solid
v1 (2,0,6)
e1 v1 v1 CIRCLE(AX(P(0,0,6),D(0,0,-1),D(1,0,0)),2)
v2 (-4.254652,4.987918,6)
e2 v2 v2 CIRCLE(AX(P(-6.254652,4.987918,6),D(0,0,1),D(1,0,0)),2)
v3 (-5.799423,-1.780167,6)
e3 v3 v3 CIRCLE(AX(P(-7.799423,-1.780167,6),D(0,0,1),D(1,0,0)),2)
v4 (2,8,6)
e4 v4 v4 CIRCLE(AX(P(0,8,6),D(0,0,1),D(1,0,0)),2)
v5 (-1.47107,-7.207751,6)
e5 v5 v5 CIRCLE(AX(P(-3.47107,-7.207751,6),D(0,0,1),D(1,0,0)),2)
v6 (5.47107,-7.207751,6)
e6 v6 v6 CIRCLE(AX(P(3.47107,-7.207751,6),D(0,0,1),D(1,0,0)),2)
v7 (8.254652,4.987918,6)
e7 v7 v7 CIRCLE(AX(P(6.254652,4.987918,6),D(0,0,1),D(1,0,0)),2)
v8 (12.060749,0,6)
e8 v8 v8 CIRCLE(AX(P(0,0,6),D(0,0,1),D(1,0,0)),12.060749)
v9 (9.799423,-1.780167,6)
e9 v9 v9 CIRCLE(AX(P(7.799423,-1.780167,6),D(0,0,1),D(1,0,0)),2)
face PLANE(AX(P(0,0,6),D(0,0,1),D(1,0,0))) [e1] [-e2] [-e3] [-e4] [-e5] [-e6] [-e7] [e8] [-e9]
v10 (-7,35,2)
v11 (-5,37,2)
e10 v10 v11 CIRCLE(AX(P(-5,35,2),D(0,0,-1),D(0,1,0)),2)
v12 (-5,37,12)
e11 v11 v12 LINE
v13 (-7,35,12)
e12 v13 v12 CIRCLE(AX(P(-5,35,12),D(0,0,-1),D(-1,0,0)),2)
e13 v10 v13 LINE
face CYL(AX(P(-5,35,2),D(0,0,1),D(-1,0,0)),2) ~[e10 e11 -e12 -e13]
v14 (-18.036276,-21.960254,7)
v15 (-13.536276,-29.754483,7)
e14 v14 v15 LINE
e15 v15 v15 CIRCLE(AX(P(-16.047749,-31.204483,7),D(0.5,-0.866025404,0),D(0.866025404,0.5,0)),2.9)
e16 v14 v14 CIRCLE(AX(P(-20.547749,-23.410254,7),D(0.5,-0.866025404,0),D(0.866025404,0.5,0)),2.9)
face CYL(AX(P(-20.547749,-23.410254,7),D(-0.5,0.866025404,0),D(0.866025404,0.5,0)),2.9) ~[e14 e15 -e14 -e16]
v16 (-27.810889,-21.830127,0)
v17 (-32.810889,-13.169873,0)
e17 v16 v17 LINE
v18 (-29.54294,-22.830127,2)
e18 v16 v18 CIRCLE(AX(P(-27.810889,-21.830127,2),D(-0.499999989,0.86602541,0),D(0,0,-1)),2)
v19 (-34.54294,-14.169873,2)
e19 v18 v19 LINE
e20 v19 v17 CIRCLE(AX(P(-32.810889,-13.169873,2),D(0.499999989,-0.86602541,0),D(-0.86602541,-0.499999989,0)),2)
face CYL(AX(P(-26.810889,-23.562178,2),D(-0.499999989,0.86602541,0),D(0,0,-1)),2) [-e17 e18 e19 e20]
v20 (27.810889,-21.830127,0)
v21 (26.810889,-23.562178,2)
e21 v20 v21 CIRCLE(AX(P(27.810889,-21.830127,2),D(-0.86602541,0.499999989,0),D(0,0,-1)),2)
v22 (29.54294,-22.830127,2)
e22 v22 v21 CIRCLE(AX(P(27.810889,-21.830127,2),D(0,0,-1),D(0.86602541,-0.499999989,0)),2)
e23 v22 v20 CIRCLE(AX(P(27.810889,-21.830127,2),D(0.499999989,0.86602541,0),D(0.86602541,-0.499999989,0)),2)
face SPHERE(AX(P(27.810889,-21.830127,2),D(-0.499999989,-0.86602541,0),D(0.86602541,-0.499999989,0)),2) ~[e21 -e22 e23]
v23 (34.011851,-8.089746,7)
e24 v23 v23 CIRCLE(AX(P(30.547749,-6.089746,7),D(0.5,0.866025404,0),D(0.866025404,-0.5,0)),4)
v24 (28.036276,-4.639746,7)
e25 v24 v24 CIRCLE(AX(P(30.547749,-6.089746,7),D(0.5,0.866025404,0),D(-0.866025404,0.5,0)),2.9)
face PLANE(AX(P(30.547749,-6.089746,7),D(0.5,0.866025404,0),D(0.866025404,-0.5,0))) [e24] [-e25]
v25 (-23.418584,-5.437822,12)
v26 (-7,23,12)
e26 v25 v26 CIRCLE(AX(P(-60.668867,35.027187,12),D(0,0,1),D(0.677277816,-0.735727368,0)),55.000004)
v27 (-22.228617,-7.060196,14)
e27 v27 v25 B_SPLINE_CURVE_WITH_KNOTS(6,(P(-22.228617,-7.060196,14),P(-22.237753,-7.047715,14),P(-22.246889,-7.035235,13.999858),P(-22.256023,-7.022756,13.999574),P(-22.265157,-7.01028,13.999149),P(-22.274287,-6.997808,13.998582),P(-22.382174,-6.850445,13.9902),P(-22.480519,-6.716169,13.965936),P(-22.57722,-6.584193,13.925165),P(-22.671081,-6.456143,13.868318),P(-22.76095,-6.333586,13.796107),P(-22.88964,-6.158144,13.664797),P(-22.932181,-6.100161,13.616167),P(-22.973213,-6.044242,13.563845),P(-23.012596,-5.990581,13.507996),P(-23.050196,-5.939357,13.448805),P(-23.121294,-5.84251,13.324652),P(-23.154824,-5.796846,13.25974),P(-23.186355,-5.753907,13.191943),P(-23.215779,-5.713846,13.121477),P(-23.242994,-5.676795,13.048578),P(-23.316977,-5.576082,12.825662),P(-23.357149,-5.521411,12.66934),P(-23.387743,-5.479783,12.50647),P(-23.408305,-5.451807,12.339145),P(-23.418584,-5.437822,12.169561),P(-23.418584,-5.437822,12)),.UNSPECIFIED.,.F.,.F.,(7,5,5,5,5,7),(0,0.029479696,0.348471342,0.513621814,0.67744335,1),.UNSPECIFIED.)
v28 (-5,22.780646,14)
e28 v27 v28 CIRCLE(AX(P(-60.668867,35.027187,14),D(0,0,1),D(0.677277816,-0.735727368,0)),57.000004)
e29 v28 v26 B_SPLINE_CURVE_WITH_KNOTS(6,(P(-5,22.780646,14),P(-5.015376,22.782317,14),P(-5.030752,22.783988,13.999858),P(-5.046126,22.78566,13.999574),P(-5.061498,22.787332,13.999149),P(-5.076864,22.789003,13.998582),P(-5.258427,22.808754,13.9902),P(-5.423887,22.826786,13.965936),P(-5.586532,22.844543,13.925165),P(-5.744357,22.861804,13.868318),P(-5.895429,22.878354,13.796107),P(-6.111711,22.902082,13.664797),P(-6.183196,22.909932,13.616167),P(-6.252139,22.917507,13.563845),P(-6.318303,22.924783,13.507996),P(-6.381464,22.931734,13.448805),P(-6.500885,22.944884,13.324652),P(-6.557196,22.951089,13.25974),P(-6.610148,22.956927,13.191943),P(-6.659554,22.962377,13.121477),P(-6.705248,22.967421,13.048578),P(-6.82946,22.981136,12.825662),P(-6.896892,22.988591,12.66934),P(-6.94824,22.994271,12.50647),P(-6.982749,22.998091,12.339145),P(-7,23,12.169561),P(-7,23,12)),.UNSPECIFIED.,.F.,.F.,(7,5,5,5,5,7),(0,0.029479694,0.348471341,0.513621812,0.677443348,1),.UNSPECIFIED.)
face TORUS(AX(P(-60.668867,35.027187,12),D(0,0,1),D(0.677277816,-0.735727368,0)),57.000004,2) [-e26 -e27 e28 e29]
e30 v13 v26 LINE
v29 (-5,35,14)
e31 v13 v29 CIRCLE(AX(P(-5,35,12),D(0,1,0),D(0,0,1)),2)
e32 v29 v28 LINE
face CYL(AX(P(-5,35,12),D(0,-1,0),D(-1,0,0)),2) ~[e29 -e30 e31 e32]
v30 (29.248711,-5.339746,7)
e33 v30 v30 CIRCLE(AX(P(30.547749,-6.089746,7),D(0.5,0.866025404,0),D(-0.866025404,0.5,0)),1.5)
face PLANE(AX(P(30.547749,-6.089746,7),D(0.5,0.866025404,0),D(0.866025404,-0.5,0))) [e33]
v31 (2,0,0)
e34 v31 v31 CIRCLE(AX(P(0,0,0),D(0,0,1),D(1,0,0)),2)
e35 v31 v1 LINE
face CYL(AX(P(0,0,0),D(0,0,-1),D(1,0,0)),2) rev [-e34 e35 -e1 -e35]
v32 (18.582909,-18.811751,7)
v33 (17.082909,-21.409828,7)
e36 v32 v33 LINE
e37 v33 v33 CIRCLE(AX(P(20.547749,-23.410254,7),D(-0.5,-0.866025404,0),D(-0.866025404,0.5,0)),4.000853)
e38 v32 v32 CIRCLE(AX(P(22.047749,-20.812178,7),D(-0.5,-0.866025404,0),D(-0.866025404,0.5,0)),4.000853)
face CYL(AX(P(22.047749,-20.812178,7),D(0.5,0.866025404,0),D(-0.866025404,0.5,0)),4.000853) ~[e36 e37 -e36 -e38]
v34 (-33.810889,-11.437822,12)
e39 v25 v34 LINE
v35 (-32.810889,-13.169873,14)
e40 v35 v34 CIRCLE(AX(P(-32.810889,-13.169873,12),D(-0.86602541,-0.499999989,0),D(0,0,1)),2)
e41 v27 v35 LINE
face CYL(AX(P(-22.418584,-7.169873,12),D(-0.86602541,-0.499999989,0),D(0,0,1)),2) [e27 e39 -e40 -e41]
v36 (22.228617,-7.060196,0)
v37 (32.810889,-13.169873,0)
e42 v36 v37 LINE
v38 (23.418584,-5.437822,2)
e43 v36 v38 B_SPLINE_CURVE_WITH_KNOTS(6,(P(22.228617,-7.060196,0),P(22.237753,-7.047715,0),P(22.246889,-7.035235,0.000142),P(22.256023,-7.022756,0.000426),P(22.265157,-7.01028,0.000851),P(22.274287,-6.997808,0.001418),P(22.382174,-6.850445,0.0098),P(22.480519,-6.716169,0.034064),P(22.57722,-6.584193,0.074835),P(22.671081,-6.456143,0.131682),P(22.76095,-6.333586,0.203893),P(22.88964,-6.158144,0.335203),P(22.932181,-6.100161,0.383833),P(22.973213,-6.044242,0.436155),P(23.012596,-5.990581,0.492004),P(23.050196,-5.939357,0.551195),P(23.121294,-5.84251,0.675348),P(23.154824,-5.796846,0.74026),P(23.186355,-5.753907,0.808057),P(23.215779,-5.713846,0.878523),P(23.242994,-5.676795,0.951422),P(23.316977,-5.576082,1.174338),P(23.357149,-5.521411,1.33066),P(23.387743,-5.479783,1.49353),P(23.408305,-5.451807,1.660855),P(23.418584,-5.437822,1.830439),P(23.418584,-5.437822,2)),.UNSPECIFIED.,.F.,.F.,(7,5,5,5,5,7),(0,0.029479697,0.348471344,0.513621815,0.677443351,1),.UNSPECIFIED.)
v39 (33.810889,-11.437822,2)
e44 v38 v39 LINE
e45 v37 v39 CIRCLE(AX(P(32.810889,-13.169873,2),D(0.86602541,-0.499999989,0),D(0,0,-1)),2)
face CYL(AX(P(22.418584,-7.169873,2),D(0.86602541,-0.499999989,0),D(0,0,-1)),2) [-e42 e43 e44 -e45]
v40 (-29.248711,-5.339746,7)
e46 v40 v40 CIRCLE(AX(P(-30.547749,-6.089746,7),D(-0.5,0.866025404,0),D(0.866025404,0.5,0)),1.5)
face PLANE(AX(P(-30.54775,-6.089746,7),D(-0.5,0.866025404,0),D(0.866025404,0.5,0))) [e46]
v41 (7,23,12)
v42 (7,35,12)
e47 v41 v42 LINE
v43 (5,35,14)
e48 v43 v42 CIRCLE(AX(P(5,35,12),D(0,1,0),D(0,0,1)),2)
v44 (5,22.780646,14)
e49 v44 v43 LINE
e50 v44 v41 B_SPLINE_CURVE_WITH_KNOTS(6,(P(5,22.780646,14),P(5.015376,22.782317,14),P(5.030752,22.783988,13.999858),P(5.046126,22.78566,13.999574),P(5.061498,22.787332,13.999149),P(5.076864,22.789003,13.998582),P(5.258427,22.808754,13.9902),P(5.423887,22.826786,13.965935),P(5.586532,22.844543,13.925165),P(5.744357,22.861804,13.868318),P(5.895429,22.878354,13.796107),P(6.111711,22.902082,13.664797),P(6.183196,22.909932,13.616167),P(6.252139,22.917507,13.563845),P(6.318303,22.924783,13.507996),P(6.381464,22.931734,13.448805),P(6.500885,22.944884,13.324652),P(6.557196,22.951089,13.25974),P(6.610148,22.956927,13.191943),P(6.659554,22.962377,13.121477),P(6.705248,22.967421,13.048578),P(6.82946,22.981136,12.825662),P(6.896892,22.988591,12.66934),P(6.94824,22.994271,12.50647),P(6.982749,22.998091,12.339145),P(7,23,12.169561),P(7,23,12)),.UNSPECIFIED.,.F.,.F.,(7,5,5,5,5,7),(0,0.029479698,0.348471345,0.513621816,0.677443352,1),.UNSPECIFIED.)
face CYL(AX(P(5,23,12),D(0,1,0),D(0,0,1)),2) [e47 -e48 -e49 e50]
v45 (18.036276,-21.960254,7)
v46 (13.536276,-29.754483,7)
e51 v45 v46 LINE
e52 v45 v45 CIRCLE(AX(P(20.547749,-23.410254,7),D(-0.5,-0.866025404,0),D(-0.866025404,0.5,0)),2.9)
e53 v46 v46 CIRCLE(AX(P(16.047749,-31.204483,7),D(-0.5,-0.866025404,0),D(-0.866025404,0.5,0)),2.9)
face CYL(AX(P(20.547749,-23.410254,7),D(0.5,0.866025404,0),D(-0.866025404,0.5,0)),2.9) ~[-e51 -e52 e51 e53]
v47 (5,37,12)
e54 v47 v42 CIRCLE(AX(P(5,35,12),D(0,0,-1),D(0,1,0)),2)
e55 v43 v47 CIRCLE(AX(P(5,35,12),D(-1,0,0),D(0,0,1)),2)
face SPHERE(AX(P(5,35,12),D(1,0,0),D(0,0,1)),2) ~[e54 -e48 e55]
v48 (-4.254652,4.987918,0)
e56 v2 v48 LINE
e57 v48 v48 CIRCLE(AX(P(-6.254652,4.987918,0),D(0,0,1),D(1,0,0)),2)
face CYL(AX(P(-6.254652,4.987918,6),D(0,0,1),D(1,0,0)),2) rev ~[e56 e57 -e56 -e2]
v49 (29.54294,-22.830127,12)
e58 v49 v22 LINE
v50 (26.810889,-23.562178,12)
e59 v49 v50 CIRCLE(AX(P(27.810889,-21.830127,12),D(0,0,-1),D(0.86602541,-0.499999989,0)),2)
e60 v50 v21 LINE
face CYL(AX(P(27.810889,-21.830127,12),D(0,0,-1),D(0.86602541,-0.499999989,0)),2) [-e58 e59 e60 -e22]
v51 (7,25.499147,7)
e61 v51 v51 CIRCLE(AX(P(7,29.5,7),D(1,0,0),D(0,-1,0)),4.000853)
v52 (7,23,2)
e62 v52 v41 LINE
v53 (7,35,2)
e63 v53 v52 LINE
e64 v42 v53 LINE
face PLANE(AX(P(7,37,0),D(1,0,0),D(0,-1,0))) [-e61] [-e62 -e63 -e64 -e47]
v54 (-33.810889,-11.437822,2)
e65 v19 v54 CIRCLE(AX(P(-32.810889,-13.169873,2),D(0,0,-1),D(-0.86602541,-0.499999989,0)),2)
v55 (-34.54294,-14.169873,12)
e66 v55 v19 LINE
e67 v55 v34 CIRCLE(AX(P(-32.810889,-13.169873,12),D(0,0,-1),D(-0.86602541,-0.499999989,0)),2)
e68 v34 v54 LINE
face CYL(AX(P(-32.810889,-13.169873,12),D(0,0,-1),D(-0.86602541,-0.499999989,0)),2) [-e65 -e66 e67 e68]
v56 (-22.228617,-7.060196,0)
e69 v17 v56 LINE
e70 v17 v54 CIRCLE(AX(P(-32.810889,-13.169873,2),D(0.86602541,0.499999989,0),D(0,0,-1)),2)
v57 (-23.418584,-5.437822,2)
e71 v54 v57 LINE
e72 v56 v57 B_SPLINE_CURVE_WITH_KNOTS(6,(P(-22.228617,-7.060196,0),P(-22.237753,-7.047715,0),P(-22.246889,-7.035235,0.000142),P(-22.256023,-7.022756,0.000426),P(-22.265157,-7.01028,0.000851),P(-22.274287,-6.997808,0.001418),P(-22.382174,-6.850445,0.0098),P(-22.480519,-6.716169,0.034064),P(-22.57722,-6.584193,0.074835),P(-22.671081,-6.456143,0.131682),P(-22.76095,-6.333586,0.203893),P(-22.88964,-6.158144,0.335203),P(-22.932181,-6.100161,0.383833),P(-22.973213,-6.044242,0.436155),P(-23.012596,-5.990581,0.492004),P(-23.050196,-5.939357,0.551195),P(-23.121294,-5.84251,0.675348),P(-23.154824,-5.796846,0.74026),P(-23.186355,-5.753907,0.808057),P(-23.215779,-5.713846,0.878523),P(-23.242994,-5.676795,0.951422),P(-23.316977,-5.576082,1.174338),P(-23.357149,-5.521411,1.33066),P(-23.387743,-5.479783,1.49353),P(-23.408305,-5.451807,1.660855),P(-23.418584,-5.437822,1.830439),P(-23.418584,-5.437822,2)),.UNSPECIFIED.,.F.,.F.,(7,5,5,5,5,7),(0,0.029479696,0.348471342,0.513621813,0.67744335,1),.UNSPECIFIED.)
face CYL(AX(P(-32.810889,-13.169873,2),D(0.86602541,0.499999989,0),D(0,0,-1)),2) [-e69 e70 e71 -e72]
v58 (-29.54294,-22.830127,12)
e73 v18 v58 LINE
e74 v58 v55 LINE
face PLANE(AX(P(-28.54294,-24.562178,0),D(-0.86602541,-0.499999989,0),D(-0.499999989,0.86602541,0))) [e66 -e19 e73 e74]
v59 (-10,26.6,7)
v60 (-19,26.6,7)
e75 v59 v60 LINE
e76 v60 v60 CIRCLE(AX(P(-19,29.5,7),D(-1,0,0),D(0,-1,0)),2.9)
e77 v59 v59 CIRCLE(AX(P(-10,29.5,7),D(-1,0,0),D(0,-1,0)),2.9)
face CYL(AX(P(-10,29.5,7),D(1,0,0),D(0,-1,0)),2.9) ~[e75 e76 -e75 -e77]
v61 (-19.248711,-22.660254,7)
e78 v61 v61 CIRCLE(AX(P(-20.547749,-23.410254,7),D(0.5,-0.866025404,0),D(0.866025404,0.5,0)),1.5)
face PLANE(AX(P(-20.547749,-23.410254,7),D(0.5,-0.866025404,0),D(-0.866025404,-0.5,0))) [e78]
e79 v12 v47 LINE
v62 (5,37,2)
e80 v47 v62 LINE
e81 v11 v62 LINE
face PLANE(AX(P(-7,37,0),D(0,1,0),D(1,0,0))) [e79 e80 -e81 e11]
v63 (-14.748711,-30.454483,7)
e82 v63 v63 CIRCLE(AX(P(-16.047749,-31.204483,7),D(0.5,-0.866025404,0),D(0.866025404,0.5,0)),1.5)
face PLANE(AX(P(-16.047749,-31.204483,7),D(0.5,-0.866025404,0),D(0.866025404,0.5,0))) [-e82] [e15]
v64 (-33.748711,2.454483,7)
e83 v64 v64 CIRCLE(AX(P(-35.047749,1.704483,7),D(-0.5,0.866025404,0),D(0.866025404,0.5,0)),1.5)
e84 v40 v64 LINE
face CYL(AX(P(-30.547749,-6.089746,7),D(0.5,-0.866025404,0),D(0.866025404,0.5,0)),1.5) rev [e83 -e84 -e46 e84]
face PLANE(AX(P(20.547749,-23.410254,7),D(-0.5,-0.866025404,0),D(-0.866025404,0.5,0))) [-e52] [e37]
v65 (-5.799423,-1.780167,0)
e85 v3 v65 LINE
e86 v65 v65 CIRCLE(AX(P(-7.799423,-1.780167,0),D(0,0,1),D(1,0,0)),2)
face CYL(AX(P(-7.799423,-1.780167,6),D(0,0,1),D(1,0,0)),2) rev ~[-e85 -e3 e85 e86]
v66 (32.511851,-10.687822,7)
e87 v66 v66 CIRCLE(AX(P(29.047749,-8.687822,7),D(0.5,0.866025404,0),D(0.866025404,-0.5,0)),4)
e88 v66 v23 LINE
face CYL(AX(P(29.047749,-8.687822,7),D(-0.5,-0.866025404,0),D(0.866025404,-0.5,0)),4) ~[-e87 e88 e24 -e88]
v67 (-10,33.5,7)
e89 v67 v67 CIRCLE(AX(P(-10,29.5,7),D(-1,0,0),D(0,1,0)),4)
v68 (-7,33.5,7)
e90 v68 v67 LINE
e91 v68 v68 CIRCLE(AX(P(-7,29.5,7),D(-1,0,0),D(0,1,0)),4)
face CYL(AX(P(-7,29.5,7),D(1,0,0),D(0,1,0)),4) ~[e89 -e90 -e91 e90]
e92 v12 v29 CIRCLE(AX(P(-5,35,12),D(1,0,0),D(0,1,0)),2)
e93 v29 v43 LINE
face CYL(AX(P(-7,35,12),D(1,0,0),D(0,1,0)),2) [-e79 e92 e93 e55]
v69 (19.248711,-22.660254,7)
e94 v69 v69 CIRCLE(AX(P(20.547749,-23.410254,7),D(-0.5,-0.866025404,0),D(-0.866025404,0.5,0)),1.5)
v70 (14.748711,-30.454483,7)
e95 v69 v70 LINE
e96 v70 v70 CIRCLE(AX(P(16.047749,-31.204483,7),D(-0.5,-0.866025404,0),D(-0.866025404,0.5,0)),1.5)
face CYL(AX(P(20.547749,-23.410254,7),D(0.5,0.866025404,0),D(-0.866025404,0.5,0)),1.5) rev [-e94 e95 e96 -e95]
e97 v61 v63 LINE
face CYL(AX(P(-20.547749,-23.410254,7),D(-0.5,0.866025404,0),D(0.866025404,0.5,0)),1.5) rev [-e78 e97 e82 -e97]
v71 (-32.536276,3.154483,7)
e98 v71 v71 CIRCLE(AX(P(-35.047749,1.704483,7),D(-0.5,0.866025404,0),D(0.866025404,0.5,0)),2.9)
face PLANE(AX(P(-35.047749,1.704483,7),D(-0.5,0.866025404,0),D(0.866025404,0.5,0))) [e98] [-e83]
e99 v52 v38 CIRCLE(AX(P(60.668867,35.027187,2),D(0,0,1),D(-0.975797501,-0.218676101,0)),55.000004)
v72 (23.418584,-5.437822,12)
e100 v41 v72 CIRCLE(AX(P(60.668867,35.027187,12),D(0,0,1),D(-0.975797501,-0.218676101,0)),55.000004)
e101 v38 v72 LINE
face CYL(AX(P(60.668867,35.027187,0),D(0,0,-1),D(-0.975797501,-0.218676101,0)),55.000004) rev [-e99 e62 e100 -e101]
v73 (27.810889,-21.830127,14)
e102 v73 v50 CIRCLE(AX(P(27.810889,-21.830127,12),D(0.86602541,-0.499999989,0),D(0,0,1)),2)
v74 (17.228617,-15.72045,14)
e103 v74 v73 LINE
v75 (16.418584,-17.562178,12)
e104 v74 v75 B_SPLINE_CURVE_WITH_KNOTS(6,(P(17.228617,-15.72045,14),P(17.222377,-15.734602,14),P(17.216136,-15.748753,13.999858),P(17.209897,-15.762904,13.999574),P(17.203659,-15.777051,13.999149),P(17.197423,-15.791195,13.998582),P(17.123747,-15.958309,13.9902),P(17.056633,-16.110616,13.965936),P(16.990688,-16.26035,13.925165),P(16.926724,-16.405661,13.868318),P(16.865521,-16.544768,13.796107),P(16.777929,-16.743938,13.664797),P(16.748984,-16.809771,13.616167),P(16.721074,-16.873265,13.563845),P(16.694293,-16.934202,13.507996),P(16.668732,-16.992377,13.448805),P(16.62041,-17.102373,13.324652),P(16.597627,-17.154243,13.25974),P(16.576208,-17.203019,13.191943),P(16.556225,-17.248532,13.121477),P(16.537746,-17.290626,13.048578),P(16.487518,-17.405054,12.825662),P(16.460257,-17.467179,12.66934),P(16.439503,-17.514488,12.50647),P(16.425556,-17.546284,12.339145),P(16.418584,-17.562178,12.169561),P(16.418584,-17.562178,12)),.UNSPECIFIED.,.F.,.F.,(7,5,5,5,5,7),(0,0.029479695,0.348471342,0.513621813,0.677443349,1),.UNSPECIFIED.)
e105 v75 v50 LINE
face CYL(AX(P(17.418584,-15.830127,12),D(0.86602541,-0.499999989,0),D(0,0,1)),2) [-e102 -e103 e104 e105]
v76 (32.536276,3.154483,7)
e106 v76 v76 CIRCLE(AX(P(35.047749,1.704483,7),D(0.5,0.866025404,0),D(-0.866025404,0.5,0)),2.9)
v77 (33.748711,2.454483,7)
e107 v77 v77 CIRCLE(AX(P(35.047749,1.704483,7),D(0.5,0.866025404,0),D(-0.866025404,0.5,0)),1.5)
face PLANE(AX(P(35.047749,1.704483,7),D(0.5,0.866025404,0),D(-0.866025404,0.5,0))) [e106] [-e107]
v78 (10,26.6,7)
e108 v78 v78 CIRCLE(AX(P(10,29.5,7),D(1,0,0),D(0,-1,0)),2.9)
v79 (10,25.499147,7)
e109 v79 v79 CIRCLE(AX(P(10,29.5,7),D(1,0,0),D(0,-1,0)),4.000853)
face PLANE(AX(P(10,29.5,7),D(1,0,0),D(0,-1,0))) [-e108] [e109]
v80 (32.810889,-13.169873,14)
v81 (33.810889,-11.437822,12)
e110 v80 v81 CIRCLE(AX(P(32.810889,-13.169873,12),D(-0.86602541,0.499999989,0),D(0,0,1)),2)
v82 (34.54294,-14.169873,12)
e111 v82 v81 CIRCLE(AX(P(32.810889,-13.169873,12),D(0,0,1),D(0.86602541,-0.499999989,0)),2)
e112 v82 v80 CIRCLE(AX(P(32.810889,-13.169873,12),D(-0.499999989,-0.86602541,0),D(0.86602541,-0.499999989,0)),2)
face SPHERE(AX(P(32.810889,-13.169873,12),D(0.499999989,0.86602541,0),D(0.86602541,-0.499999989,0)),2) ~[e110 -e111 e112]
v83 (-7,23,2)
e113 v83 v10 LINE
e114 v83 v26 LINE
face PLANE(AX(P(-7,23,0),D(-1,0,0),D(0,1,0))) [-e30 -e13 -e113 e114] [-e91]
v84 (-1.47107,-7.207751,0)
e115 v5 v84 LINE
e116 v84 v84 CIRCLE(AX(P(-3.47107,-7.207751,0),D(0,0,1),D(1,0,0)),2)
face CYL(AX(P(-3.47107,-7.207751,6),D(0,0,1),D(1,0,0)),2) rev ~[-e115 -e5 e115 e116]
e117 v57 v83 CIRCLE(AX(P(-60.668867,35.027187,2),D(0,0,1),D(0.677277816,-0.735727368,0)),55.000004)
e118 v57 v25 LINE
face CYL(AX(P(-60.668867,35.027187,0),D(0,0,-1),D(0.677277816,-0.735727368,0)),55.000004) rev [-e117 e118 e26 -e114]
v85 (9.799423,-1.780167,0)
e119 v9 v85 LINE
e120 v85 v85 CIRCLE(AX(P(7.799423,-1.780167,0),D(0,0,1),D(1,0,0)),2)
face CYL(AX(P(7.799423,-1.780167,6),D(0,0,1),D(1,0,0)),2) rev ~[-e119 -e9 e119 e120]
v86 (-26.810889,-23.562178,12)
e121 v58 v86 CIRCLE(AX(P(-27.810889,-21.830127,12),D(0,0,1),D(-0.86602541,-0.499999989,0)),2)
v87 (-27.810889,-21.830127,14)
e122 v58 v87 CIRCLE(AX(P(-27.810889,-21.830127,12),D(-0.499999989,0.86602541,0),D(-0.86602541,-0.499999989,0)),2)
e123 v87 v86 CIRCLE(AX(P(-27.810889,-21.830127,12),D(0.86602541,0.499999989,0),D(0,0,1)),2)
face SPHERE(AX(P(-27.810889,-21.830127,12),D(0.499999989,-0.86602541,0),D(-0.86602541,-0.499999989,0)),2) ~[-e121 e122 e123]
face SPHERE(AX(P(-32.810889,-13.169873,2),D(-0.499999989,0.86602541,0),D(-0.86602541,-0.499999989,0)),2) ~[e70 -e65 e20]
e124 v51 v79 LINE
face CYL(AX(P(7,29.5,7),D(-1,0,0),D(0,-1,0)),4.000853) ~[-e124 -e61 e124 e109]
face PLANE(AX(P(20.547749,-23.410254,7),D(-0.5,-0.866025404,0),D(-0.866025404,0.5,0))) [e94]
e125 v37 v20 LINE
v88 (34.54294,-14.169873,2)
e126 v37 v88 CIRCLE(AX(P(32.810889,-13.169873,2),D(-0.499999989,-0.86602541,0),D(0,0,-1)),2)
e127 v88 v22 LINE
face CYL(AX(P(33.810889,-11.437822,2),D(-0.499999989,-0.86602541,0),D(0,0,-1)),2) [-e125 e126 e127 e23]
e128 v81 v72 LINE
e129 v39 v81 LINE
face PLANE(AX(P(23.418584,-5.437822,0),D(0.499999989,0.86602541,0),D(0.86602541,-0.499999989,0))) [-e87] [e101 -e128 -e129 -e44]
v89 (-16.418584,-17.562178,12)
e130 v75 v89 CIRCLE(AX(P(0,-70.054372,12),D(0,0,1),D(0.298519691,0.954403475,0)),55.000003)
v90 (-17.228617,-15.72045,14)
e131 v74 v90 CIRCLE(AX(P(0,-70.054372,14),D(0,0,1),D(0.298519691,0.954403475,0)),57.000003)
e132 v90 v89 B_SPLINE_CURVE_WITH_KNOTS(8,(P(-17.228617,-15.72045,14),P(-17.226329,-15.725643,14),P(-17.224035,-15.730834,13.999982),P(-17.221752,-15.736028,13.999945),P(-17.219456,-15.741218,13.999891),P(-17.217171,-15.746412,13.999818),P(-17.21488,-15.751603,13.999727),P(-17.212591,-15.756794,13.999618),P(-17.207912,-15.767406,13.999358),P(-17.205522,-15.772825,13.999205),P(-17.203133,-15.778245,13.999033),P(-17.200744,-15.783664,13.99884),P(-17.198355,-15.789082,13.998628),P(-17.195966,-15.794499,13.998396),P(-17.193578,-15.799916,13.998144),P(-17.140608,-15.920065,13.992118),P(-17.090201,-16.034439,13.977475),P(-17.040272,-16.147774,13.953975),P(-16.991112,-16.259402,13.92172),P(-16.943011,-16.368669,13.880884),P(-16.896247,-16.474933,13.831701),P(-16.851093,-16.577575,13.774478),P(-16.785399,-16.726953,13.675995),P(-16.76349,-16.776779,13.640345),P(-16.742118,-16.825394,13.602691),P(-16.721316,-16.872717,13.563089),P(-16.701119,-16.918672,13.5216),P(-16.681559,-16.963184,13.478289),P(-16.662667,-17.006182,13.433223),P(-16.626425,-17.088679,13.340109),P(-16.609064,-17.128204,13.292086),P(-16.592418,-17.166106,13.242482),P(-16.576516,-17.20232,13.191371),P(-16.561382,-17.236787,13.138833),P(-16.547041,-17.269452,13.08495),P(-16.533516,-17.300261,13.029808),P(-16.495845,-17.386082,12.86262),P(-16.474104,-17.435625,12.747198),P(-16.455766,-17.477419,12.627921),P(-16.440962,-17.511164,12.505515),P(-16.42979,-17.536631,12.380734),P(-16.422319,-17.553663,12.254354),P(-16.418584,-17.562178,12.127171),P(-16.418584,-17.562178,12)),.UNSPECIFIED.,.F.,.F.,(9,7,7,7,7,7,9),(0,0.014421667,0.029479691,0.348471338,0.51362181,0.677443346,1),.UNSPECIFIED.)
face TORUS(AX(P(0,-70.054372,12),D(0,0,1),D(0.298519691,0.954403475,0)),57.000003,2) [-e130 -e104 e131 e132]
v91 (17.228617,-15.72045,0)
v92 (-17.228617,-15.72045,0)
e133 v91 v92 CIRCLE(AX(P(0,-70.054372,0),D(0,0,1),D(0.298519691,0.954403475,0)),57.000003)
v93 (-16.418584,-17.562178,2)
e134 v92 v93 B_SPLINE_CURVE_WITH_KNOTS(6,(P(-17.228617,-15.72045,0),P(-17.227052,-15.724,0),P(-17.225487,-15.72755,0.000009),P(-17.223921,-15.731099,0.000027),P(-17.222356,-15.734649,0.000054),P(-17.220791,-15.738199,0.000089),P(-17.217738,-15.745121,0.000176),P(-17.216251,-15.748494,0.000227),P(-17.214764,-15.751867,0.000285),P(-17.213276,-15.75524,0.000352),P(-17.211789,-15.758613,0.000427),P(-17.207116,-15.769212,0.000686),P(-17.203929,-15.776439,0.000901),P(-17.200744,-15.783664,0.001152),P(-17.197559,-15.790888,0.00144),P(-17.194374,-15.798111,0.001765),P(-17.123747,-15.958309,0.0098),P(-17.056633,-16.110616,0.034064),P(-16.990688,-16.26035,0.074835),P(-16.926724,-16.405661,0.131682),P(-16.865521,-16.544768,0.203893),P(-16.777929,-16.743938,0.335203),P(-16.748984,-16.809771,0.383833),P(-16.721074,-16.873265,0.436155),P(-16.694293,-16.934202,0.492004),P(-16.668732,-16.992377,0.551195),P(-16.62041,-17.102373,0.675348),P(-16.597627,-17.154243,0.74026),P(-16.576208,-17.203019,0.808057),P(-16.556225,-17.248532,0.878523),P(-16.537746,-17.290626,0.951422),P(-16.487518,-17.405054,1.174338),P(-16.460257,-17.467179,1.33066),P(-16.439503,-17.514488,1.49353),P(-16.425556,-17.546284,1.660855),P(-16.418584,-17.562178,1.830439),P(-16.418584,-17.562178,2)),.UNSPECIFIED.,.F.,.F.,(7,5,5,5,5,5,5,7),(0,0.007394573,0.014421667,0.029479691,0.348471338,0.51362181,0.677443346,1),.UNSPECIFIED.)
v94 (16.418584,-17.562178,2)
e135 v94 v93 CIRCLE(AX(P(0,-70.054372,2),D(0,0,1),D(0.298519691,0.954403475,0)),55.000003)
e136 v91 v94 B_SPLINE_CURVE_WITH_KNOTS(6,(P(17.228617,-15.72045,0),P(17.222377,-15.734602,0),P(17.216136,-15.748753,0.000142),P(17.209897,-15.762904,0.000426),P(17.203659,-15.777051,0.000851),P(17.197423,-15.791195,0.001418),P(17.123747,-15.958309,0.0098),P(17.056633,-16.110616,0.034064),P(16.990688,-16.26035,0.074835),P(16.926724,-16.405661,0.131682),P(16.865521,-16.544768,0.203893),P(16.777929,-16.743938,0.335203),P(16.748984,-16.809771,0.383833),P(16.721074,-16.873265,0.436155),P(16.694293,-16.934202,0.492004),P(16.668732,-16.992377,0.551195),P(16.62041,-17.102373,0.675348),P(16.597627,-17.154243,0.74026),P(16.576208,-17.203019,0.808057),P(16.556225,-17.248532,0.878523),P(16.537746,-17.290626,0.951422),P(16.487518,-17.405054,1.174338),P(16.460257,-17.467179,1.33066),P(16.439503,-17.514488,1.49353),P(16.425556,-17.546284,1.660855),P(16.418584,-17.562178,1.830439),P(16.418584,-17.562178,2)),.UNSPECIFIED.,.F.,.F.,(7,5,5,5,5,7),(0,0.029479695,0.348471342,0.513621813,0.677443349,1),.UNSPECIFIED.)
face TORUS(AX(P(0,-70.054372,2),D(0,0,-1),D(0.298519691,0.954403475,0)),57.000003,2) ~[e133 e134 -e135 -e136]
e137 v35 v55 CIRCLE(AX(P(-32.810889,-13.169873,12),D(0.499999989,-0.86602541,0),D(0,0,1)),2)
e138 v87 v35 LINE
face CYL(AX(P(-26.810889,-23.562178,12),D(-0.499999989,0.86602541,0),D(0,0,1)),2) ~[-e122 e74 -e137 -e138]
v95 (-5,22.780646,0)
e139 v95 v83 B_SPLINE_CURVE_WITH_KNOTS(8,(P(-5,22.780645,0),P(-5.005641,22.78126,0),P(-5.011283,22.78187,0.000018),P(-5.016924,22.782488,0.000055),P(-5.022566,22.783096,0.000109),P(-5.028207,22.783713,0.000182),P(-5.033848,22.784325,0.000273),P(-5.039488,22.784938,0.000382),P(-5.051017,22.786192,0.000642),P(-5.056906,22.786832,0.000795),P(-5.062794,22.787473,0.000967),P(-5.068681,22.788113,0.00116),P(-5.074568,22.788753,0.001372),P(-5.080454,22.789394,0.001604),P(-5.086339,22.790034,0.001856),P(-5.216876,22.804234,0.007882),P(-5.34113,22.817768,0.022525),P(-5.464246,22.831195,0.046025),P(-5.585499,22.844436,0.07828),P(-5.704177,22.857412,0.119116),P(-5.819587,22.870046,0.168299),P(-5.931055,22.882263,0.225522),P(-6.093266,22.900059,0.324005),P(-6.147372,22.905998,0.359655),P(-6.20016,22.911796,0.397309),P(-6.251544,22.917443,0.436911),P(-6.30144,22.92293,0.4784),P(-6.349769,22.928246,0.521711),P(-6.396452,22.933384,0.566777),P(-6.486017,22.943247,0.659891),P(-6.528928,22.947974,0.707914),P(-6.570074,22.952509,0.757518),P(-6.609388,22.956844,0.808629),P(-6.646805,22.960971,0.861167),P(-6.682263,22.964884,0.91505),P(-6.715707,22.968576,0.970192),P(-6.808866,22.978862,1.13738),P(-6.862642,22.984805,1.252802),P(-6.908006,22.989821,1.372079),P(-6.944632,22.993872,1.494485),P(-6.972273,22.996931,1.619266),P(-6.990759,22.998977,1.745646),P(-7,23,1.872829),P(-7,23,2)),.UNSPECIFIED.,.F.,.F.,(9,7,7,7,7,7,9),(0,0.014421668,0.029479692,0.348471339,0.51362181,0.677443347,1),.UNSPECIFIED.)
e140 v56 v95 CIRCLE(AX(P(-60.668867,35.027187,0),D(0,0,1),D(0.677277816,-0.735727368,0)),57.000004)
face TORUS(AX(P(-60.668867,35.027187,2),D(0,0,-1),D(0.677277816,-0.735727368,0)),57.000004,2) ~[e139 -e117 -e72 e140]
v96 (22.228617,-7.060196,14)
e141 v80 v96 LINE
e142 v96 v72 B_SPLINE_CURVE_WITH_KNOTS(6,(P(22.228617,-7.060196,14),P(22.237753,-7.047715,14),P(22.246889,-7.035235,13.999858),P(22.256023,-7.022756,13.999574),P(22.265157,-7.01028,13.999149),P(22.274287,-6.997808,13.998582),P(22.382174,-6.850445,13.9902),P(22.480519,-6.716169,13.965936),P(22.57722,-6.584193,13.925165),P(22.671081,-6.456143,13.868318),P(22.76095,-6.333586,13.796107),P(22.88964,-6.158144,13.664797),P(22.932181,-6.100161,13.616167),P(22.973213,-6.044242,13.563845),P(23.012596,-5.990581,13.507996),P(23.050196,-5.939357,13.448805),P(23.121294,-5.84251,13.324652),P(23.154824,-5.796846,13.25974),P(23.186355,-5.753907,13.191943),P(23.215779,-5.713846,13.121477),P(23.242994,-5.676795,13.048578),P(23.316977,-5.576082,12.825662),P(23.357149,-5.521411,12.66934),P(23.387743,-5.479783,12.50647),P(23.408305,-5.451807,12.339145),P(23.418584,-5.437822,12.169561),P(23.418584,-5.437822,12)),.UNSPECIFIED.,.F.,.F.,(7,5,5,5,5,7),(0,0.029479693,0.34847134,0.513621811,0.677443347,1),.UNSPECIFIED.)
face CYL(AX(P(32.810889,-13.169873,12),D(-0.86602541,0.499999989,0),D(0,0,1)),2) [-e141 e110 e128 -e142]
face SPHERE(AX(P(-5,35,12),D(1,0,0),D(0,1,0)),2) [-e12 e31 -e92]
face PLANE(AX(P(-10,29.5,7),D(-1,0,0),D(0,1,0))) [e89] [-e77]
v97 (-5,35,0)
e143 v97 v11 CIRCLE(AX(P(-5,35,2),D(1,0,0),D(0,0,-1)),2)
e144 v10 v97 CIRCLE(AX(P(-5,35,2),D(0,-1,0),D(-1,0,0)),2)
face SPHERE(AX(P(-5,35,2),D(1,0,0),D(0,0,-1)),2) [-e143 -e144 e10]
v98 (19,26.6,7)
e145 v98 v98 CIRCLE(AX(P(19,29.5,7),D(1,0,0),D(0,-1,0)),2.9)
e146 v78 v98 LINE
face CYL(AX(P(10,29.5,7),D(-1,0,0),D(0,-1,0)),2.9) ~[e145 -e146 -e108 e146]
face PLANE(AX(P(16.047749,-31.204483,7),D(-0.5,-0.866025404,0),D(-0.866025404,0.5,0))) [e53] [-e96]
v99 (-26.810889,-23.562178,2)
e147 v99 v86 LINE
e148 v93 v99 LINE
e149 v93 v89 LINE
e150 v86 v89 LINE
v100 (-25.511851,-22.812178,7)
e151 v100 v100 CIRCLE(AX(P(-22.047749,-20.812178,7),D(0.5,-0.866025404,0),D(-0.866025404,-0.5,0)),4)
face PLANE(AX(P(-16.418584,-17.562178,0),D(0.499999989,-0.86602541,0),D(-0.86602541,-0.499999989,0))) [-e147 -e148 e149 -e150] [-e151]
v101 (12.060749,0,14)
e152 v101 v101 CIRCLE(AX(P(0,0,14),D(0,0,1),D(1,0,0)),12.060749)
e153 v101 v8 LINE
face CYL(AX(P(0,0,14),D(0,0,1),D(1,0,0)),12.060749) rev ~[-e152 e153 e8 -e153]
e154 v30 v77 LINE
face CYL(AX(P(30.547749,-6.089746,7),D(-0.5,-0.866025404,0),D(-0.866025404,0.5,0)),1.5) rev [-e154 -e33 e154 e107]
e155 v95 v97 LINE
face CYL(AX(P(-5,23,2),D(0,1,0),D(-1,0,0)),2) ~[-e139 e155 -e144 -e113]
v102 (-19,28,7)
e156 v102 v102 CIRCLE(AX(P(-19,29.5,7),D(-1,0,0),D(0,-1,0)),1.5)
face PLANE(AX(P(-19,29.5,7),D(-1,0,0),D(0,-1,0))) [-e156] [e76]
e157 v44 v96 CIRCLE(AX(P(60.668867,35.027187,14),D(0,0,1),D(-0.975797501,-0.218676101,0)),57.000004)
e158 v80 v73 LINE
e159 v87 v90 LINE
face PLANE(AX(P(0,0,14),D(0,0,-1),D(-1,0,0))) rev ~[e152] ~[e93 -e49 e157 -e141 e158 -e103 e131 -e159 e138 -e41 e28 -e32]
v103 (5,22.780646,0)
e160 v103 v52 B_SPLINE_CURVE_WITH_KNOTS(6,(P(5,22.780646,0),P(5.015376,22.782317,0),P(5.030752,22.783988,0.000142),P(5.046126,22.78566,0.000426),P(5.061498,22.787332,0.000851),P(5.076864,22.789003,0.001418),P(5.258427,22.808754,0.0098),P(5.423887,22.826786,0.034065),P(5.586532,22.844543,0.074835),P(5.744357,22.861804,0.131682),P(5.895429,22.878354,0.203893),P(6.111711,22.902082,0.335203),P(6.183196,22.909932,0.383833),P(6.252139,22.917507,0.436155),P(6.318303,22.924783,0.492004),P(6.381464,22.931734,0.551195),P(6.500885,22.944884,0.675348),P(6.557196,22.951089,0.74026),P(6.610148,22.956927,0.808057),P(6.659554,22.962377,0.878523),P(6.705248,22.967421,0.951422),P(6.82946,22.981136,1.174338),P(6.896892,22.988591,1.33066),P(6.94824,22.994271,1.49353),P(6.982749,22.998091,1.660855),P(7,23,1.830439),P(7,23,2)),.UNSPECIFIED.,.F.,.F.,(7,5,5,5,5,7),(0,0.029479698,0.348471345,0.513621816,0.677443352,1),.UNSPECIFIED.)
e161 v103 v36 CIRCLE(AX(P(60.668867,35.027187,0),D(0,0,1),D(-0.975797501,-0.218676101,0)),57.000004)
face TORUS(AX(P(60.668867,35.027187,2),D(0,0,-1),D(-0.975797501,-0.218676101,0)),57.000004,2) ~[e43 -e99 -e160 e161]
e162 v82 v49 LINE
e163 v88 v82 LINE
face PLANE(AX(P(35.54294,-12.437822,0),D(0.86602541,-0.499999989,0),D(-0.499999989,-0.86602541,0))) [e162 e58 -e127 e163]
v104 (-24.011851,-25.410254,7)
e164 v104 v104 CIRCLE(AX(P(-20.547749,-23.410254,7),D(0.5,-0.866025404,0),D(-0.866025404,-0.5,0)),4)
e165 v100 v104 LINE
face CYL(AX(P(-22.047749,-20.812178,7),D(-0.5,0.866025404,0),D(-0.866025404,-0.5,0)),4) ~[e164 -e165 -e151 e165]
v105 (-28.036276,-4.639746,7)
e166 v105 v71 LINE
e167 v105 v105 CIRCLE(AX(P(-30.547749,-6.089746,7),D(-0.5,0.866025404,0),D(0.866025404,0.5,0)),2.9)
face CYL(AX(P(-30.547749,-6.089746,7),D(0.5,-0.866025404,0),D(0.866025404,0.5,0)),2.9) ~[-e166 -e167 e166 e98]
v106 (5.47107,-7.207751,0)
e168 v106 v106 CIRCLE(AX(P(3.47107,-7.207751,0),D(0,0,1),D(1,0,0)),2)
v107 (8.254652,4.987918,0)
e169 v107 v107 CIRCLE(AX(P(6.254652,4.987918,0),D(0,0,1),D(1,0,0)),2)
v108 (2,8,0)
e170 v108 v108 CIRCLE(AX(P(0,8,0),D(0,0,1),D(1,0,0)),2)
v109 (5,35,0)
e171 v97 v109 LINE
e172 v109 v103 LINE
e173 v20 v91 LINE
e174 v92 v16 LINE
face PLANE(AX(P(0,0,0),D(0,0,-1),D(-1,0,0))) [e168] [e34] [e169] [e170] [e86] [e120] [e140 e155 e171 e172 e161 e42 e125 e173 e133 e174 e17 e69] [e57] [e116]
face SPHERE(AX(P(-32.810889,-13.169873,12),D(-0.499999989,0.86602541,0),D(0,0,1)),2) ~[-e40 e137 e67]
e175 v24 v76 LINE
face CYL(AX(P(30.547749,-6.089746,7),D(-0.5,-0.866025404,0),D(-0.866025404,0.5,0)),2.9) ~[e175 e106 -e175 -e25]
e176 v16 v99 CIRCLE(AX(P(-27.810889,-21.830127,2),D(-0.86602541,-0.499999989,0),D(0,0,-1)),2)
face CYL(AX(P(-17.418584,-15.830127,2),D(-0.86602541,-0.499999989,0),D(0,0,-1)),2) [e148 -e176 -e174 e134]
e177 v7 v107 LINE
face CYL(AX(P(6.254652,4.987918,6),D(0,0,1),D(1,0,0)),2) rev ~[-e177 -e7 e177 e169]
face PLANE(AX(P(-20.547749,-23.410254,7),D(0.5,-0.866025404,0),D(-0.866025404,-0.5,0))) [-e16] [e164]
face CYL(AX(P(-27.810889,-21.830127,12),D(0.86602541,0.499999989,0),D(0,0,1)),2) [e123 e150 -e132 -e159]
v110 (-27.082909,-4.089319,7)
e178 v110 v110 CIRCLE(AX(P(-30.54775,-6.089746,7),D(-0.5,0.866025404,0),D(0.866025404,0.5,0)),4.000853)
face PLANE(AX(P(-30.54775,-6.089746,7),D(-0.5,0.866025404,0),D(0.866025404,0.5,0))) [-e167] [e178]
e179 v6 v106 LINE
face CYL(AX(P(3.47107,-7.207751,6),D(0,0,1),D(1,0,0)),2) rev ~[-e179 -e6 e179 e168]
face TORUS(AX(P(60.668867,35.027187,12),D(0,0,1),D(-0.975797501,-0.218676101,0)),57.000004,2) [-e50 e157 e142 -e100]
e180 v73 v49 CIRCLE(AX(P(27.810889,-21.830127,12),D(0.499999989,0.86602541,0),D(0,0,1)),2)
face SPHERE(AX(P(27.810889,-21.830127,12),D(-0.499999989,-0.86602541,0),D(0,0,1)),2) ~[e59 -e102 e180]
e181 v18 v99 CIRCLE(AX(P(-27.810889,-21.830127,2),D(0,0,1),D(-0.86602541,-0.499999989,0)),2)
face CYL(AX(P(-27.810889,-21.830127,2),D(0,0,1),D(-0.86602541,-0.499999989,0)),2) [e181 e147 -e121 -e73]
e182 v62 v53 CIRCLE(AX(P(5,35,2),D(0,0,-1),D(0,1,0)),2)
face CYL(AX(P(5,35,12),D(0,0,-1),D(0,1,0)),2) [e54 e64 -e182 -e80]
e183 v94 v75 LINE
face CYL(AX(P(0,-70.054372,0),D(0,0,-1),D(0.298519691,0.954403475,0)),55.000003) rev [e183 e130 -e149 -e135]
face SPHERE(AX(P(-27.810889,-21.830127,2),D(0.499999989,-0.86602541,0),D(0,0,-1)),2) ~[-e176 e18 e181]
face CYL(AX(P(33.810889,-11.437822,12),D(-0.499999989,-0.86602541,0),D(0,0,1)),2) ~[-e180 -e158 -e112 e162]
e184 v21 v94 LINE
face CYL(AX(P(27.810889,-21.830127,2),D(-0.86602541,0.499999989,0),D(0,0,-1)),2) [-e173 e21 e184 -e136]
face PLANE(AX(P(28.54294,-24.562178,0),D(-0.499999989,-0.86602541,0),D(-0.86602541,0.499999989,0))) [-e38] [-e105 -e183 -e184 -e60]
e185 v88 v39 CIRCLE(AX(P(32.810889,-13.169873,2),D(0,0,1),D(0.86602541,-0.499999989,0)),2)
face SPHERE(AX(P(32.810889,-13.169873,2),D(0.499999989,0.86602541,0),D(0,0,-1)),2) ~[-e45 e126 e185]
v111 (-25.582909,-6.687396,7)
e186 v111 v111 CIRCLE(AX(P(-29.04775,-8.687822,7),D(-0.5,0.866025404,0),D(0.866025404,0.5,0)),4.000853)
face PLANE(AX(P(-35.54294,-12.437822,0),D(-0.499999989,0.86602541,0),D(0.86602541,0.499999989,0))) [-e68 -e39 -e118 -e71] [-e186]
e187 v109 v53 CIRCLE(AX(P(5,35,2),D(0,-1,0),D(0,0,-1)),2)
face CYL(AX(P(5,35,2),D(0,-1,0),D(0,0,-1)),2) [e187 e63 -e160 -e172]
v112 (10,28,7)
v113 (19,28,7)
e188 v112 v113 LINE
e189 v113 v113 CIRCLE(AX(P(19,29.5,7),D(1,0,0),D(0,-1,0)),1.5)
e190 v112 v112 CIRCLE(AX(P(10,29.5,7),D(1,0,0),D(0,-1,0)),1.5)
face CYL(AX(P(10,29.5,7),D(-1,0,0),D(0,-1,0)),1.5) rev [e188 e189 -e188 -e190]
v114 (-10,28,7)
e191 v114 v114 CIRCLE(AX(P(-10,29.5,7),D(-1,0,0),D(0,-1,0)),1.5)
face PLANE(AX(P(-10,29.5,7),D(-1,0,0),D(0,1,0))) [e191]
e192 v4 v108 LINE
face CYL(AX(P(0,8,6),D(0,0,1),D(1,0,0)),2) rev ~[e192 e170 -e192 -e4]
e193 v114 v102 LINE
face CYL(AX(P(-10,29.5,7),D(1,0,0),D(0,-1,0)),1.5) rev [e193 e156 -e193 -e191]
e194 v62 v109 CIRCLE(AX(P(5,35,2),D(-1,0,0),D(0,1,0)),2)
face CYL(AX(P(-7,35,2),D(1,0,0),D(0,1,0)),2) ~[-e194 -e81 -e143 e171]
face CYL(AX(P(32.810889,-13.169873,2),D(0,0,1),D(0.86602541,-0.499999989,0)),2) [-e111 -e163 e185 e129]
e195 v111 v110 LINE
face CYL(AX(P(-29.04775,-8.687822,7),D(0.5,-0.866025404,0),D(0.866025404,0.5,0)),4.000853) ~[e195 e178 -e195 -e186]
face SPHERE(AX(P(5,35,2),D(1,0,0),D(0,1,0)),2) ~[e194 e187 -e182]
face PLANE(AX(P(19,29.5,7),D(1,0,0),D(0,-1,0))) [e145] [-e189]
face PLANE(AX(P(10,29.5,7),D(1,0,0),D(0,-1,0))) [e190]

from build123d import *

# Parameters (mm, degrees)
SKETCH2_R           = 2
BOSS_EXTRUDE1_DEPTH = 14
SKETCH7_R           = 12.060749
CUT_EXTRUDE4_DEPTH  = 8
SKETCH8_R           = 2
CUT_EXTRUDE5_DEPTH  = 8
FILLET2_R           = 2
FILLET4_R           = 2
SKETCH10_R          = 4
BOSS_EXTRUDE3_DEPTH = 3
SKETCH13_R          = 4.000853
BOSS_EXTRUDE4_DEPTH = 3
SKETCH15_R          = 2.9
SKETCH15_R_2        = 1.5
BOSS_EXTRUDE5_DEPTH = 9
SKETCH16_R          = 2.9
SKETCH16_R_2        = 1.5
BOSS_EXTRUDE6_DEPTH = 9
CIRPATTERN1_COUNT   = 3


with BuildPart() as part:
    # Sketch2 → Boss-Extrude1 (new body)
    with BuildSketch(Plane.XY):
        with BuildLine():
            Line((-7, 23), (-7, 37))
            Line((-7, 37), (7, 37))
            Line((7, 37), (7, 23))
            ThreePointArc((7, 23), (13.037466, 7.527184), (23.418584, -5.437822))
            Line((23.418584, -5.437822), (35.54294, -12.437822))
            Line((35.54294, -12.437822), (28.54294, -24.562178))
            Line((28.54294, -24.562178), (16.418584, -17.562178))
            ThreePointArc((16.418584, -17.562178), (0, -15.054369), (-16.418584, -17.562178))
            Line((-16.418584, -17.562178), (-28.54294, -24.562178))
            Line((-28.54294, -24.562178), (-35.54294, -12.437822))
            Line((-35.54294, -12.437822), (-23.418584, -5.437822))
            ThreePointArc((-23.418584, -5.437822), (-13.037466, 7.527184), (-7, 23))
        make_face()
        Circle(SKETCH2_R, mode=Mode.SUBTRACT)
    extrude(amount=BOSS_EXTRUDE1_DEPTH)

    # Sketch7 → Cut-Extrude4 (cut)
    with BuildSketch(Plane.XY.offset(14)):
        Circle(SKETCH7_R)
    extrude(amount=-CUT_EXTRUDE4_DEPTH, mode=Mode.SUBTRACT)

    # Sketch8 → Cut-Extrude5 (cut)
    with BuildSketch(Plane.XY.offset(6)):
        with Locations((0, 8)):
            Circle(SKETCH8_R)
        with Locations((6.254652, 4.987918)):
            Circle(SKETCH8_R)
        with Locations((7.799423, -1.780167)):
            Circle(SKETCH8_R)
        with Locations((3.47107, -7.207751)):
            Circle(SKETCH8_R)
        with Locations((-3.47107, -7.207751)):
            Circle(SKETCH8_R)
        with Locations((-7.799423, -1.780167)):
            Circle(SKETCH8_R)
        with Locations((-6.254652, 4.987918)):
            Circle(SKETCH8_R)
    extrude(amount=-CUT_EXTRUDE5_DEPTH, mode=Mode.SUBTRACT)

    # Fillet2
    fillet2_edges = [part.edges().sort_by_distance(p)[0] for p in [
        (32.04294, -18.5, 0),
        (-32.04294, -18.5, 0),
        (0, 37, 0),
        (-32.04294, -18.5, 14),
        (32.04294, -18.5, 14),
        (0, 37, 14),
    ]]
    fillet(fillet2_edges, radius=FILLET2_R)

    # Fillet4
    fillet4_edges = [part.edges().sort_by_distance(p)[0] for p in [
        (7, 29, 0),
        (13.037466, 7.527184, 0),
        (-13.037466, 7.527184, 14),
        (21.614737, -20.562178, 0),
        (0, -15.054369, 0),
        (-28.614737, -8.437822, 0),
        (-13.037466, 7.527184, 0),
        (-28.614737, -8.437822, 14),
        (0, -15.054369, 14),
        (21.614737, -20.562178, 14),
        (13.037466, 7.527184, 14),
        (7, 29, 14),
        (-7, 37, 7),
        (7, 37, 7),
        (-7, 29, 0),
        (-7, 29, 14),
        (-7, 36.414214, 13.414214),
        (-7, 36.414214, 0.585786),
        (28.614737, -8.437822, 0),
        (-21.614737, -20.562178, 0),
        (7, 36.414214, 13.414214),
        (7, 36.414214, 0.585786),
        (-21.614737, -20.562178, 14),
        (28.614737, -8.437822, 14),
        (-28.54294, -24.562178, 7),
        (-35.54294, -12.437822, 7),
        (-28.035634, -24.269285, 13.414214),
        (-28.035634, -24.269285, 0.585786),
        (-35.035634, -12.144929, 13.414214),
        (-35.035634, -12.144929, 0.585786),
        (35.54294, -12.437822, 7),
        (28.54294, -24.562178, 7),
        (35.035634, -12.144929, 13.414214),
        (35.035634, -12.144929, 0.585786),
        (28.035634, -24.269285, 13.414214),
        (28.035634, -24.269285, 0.585786),
    ]]
    fillet(fillet4_edges, radius=FILLET4_R)

    # Sketch10 → Boss-Extrude3 (add)
    with BuildSketch(Plane(origin=(3.5, 6.062178, 0), x_dir=(0.866025403784439, -0.4999999999999995, 0), z_dir=(0.49999999999999944, 0.8660254037844389, 0))):
        with Locations((29.5, -7)):
            Circle(SKETCH10_R)
    boss_extrude3 = extrude(amount=BOSS_EXTRUDE3_DEPTH)

    # Sketch13 → Boss-Extrude4 (add)
    with BuildSketch(Plane(origin=(-3.5, -6.062178, 0), x_dir=(0.8660254037844386, -0.5, 0), z_dir=(-0.5000000000000001, -0.8660254037844387, 0))):
        with Locations(Location((29.5, 7, 0), (0, 0, 180))):
            Circle(SKETCH13_R)
    boss_extrude4 = extrude(amount=BOSS_EXTRUDE4_DEPTH)

    # Sketch15 → Boss-Extrude5 (add)
    with BuildSketch(Plane(origin=(5, 8.660254, 0), x_dir=(0.8660254037844389, -0.4999999999999997, 0), z_dir=(0.4999999999999997, 0.8660254037844389, 0))):
        with Locations(Location((29.5, -7, 0), (0, 0, 180))):
            Circle(SKETCH15_R)
        with Locations(Location((29.5, -7, 0), (0, 0, 180))):
            Circle(SKETCH15_R_2, mode=Mode.SUBTRACT)
    boss_extrude5 = extrude(amount=BOSS_EXTRUDE5_DEPTH)

    # Sketch16 → Boss-Extrude6 (add)
    with BuildSketch(Plane(origin=(-5, -8.660254, 0), x_dir=(0.8660254037844386, -0.4999999999999999, 0), z_dir=(-0.49999999999999994, -0.8660254037844387, 0))):
        with Locations(Location((29.5, 7, 0), (0, 0, 180))):
            Circle(SKETCH16_R)
        with Locations(Location((29.5, 7, 0), (0, 0, 180))):
            Circle(SKETCH16_R_2, mode=Mode.SUBTRACT)
    boss_extrude6 = extrude(amount=BOSS_EXTRUDE6_DEPTH)

    # CirPattern1: Boss-Extrude3, Boss-Extrude4, Boss-Extrude5, Boss-Extrude6 ×3 about axis
    cirpattern1_axis = Axis((0, 0, 0), (0, 0, 1))
    add([boss_extrude3.rotate(cirpattern1_axis, i * 360 / CIRPATTERN1_COUNT) for i in range(1, CIRPATTERN1_COUNT)])
    add([boss_extrude4.rotate(cirpattern1_axis, i * 360 / CIRPATTERN1_COUNT) for i in range(1, CIRPATTERN1_COUNT)])
    add([boss_extrude5.rotate(cirpattern1_axis, i * 360 / CIRPATTERN1_COUNT) for i in range(1, CIRPATTERN1_COUNT)])
    add([boss_extrude6.rotate(cirpattern1_axis, i * 360 / CIRPATTERN1_COUNT) for i in range(1, CIRPATTERN1_COUNT)])


solid = part.part
